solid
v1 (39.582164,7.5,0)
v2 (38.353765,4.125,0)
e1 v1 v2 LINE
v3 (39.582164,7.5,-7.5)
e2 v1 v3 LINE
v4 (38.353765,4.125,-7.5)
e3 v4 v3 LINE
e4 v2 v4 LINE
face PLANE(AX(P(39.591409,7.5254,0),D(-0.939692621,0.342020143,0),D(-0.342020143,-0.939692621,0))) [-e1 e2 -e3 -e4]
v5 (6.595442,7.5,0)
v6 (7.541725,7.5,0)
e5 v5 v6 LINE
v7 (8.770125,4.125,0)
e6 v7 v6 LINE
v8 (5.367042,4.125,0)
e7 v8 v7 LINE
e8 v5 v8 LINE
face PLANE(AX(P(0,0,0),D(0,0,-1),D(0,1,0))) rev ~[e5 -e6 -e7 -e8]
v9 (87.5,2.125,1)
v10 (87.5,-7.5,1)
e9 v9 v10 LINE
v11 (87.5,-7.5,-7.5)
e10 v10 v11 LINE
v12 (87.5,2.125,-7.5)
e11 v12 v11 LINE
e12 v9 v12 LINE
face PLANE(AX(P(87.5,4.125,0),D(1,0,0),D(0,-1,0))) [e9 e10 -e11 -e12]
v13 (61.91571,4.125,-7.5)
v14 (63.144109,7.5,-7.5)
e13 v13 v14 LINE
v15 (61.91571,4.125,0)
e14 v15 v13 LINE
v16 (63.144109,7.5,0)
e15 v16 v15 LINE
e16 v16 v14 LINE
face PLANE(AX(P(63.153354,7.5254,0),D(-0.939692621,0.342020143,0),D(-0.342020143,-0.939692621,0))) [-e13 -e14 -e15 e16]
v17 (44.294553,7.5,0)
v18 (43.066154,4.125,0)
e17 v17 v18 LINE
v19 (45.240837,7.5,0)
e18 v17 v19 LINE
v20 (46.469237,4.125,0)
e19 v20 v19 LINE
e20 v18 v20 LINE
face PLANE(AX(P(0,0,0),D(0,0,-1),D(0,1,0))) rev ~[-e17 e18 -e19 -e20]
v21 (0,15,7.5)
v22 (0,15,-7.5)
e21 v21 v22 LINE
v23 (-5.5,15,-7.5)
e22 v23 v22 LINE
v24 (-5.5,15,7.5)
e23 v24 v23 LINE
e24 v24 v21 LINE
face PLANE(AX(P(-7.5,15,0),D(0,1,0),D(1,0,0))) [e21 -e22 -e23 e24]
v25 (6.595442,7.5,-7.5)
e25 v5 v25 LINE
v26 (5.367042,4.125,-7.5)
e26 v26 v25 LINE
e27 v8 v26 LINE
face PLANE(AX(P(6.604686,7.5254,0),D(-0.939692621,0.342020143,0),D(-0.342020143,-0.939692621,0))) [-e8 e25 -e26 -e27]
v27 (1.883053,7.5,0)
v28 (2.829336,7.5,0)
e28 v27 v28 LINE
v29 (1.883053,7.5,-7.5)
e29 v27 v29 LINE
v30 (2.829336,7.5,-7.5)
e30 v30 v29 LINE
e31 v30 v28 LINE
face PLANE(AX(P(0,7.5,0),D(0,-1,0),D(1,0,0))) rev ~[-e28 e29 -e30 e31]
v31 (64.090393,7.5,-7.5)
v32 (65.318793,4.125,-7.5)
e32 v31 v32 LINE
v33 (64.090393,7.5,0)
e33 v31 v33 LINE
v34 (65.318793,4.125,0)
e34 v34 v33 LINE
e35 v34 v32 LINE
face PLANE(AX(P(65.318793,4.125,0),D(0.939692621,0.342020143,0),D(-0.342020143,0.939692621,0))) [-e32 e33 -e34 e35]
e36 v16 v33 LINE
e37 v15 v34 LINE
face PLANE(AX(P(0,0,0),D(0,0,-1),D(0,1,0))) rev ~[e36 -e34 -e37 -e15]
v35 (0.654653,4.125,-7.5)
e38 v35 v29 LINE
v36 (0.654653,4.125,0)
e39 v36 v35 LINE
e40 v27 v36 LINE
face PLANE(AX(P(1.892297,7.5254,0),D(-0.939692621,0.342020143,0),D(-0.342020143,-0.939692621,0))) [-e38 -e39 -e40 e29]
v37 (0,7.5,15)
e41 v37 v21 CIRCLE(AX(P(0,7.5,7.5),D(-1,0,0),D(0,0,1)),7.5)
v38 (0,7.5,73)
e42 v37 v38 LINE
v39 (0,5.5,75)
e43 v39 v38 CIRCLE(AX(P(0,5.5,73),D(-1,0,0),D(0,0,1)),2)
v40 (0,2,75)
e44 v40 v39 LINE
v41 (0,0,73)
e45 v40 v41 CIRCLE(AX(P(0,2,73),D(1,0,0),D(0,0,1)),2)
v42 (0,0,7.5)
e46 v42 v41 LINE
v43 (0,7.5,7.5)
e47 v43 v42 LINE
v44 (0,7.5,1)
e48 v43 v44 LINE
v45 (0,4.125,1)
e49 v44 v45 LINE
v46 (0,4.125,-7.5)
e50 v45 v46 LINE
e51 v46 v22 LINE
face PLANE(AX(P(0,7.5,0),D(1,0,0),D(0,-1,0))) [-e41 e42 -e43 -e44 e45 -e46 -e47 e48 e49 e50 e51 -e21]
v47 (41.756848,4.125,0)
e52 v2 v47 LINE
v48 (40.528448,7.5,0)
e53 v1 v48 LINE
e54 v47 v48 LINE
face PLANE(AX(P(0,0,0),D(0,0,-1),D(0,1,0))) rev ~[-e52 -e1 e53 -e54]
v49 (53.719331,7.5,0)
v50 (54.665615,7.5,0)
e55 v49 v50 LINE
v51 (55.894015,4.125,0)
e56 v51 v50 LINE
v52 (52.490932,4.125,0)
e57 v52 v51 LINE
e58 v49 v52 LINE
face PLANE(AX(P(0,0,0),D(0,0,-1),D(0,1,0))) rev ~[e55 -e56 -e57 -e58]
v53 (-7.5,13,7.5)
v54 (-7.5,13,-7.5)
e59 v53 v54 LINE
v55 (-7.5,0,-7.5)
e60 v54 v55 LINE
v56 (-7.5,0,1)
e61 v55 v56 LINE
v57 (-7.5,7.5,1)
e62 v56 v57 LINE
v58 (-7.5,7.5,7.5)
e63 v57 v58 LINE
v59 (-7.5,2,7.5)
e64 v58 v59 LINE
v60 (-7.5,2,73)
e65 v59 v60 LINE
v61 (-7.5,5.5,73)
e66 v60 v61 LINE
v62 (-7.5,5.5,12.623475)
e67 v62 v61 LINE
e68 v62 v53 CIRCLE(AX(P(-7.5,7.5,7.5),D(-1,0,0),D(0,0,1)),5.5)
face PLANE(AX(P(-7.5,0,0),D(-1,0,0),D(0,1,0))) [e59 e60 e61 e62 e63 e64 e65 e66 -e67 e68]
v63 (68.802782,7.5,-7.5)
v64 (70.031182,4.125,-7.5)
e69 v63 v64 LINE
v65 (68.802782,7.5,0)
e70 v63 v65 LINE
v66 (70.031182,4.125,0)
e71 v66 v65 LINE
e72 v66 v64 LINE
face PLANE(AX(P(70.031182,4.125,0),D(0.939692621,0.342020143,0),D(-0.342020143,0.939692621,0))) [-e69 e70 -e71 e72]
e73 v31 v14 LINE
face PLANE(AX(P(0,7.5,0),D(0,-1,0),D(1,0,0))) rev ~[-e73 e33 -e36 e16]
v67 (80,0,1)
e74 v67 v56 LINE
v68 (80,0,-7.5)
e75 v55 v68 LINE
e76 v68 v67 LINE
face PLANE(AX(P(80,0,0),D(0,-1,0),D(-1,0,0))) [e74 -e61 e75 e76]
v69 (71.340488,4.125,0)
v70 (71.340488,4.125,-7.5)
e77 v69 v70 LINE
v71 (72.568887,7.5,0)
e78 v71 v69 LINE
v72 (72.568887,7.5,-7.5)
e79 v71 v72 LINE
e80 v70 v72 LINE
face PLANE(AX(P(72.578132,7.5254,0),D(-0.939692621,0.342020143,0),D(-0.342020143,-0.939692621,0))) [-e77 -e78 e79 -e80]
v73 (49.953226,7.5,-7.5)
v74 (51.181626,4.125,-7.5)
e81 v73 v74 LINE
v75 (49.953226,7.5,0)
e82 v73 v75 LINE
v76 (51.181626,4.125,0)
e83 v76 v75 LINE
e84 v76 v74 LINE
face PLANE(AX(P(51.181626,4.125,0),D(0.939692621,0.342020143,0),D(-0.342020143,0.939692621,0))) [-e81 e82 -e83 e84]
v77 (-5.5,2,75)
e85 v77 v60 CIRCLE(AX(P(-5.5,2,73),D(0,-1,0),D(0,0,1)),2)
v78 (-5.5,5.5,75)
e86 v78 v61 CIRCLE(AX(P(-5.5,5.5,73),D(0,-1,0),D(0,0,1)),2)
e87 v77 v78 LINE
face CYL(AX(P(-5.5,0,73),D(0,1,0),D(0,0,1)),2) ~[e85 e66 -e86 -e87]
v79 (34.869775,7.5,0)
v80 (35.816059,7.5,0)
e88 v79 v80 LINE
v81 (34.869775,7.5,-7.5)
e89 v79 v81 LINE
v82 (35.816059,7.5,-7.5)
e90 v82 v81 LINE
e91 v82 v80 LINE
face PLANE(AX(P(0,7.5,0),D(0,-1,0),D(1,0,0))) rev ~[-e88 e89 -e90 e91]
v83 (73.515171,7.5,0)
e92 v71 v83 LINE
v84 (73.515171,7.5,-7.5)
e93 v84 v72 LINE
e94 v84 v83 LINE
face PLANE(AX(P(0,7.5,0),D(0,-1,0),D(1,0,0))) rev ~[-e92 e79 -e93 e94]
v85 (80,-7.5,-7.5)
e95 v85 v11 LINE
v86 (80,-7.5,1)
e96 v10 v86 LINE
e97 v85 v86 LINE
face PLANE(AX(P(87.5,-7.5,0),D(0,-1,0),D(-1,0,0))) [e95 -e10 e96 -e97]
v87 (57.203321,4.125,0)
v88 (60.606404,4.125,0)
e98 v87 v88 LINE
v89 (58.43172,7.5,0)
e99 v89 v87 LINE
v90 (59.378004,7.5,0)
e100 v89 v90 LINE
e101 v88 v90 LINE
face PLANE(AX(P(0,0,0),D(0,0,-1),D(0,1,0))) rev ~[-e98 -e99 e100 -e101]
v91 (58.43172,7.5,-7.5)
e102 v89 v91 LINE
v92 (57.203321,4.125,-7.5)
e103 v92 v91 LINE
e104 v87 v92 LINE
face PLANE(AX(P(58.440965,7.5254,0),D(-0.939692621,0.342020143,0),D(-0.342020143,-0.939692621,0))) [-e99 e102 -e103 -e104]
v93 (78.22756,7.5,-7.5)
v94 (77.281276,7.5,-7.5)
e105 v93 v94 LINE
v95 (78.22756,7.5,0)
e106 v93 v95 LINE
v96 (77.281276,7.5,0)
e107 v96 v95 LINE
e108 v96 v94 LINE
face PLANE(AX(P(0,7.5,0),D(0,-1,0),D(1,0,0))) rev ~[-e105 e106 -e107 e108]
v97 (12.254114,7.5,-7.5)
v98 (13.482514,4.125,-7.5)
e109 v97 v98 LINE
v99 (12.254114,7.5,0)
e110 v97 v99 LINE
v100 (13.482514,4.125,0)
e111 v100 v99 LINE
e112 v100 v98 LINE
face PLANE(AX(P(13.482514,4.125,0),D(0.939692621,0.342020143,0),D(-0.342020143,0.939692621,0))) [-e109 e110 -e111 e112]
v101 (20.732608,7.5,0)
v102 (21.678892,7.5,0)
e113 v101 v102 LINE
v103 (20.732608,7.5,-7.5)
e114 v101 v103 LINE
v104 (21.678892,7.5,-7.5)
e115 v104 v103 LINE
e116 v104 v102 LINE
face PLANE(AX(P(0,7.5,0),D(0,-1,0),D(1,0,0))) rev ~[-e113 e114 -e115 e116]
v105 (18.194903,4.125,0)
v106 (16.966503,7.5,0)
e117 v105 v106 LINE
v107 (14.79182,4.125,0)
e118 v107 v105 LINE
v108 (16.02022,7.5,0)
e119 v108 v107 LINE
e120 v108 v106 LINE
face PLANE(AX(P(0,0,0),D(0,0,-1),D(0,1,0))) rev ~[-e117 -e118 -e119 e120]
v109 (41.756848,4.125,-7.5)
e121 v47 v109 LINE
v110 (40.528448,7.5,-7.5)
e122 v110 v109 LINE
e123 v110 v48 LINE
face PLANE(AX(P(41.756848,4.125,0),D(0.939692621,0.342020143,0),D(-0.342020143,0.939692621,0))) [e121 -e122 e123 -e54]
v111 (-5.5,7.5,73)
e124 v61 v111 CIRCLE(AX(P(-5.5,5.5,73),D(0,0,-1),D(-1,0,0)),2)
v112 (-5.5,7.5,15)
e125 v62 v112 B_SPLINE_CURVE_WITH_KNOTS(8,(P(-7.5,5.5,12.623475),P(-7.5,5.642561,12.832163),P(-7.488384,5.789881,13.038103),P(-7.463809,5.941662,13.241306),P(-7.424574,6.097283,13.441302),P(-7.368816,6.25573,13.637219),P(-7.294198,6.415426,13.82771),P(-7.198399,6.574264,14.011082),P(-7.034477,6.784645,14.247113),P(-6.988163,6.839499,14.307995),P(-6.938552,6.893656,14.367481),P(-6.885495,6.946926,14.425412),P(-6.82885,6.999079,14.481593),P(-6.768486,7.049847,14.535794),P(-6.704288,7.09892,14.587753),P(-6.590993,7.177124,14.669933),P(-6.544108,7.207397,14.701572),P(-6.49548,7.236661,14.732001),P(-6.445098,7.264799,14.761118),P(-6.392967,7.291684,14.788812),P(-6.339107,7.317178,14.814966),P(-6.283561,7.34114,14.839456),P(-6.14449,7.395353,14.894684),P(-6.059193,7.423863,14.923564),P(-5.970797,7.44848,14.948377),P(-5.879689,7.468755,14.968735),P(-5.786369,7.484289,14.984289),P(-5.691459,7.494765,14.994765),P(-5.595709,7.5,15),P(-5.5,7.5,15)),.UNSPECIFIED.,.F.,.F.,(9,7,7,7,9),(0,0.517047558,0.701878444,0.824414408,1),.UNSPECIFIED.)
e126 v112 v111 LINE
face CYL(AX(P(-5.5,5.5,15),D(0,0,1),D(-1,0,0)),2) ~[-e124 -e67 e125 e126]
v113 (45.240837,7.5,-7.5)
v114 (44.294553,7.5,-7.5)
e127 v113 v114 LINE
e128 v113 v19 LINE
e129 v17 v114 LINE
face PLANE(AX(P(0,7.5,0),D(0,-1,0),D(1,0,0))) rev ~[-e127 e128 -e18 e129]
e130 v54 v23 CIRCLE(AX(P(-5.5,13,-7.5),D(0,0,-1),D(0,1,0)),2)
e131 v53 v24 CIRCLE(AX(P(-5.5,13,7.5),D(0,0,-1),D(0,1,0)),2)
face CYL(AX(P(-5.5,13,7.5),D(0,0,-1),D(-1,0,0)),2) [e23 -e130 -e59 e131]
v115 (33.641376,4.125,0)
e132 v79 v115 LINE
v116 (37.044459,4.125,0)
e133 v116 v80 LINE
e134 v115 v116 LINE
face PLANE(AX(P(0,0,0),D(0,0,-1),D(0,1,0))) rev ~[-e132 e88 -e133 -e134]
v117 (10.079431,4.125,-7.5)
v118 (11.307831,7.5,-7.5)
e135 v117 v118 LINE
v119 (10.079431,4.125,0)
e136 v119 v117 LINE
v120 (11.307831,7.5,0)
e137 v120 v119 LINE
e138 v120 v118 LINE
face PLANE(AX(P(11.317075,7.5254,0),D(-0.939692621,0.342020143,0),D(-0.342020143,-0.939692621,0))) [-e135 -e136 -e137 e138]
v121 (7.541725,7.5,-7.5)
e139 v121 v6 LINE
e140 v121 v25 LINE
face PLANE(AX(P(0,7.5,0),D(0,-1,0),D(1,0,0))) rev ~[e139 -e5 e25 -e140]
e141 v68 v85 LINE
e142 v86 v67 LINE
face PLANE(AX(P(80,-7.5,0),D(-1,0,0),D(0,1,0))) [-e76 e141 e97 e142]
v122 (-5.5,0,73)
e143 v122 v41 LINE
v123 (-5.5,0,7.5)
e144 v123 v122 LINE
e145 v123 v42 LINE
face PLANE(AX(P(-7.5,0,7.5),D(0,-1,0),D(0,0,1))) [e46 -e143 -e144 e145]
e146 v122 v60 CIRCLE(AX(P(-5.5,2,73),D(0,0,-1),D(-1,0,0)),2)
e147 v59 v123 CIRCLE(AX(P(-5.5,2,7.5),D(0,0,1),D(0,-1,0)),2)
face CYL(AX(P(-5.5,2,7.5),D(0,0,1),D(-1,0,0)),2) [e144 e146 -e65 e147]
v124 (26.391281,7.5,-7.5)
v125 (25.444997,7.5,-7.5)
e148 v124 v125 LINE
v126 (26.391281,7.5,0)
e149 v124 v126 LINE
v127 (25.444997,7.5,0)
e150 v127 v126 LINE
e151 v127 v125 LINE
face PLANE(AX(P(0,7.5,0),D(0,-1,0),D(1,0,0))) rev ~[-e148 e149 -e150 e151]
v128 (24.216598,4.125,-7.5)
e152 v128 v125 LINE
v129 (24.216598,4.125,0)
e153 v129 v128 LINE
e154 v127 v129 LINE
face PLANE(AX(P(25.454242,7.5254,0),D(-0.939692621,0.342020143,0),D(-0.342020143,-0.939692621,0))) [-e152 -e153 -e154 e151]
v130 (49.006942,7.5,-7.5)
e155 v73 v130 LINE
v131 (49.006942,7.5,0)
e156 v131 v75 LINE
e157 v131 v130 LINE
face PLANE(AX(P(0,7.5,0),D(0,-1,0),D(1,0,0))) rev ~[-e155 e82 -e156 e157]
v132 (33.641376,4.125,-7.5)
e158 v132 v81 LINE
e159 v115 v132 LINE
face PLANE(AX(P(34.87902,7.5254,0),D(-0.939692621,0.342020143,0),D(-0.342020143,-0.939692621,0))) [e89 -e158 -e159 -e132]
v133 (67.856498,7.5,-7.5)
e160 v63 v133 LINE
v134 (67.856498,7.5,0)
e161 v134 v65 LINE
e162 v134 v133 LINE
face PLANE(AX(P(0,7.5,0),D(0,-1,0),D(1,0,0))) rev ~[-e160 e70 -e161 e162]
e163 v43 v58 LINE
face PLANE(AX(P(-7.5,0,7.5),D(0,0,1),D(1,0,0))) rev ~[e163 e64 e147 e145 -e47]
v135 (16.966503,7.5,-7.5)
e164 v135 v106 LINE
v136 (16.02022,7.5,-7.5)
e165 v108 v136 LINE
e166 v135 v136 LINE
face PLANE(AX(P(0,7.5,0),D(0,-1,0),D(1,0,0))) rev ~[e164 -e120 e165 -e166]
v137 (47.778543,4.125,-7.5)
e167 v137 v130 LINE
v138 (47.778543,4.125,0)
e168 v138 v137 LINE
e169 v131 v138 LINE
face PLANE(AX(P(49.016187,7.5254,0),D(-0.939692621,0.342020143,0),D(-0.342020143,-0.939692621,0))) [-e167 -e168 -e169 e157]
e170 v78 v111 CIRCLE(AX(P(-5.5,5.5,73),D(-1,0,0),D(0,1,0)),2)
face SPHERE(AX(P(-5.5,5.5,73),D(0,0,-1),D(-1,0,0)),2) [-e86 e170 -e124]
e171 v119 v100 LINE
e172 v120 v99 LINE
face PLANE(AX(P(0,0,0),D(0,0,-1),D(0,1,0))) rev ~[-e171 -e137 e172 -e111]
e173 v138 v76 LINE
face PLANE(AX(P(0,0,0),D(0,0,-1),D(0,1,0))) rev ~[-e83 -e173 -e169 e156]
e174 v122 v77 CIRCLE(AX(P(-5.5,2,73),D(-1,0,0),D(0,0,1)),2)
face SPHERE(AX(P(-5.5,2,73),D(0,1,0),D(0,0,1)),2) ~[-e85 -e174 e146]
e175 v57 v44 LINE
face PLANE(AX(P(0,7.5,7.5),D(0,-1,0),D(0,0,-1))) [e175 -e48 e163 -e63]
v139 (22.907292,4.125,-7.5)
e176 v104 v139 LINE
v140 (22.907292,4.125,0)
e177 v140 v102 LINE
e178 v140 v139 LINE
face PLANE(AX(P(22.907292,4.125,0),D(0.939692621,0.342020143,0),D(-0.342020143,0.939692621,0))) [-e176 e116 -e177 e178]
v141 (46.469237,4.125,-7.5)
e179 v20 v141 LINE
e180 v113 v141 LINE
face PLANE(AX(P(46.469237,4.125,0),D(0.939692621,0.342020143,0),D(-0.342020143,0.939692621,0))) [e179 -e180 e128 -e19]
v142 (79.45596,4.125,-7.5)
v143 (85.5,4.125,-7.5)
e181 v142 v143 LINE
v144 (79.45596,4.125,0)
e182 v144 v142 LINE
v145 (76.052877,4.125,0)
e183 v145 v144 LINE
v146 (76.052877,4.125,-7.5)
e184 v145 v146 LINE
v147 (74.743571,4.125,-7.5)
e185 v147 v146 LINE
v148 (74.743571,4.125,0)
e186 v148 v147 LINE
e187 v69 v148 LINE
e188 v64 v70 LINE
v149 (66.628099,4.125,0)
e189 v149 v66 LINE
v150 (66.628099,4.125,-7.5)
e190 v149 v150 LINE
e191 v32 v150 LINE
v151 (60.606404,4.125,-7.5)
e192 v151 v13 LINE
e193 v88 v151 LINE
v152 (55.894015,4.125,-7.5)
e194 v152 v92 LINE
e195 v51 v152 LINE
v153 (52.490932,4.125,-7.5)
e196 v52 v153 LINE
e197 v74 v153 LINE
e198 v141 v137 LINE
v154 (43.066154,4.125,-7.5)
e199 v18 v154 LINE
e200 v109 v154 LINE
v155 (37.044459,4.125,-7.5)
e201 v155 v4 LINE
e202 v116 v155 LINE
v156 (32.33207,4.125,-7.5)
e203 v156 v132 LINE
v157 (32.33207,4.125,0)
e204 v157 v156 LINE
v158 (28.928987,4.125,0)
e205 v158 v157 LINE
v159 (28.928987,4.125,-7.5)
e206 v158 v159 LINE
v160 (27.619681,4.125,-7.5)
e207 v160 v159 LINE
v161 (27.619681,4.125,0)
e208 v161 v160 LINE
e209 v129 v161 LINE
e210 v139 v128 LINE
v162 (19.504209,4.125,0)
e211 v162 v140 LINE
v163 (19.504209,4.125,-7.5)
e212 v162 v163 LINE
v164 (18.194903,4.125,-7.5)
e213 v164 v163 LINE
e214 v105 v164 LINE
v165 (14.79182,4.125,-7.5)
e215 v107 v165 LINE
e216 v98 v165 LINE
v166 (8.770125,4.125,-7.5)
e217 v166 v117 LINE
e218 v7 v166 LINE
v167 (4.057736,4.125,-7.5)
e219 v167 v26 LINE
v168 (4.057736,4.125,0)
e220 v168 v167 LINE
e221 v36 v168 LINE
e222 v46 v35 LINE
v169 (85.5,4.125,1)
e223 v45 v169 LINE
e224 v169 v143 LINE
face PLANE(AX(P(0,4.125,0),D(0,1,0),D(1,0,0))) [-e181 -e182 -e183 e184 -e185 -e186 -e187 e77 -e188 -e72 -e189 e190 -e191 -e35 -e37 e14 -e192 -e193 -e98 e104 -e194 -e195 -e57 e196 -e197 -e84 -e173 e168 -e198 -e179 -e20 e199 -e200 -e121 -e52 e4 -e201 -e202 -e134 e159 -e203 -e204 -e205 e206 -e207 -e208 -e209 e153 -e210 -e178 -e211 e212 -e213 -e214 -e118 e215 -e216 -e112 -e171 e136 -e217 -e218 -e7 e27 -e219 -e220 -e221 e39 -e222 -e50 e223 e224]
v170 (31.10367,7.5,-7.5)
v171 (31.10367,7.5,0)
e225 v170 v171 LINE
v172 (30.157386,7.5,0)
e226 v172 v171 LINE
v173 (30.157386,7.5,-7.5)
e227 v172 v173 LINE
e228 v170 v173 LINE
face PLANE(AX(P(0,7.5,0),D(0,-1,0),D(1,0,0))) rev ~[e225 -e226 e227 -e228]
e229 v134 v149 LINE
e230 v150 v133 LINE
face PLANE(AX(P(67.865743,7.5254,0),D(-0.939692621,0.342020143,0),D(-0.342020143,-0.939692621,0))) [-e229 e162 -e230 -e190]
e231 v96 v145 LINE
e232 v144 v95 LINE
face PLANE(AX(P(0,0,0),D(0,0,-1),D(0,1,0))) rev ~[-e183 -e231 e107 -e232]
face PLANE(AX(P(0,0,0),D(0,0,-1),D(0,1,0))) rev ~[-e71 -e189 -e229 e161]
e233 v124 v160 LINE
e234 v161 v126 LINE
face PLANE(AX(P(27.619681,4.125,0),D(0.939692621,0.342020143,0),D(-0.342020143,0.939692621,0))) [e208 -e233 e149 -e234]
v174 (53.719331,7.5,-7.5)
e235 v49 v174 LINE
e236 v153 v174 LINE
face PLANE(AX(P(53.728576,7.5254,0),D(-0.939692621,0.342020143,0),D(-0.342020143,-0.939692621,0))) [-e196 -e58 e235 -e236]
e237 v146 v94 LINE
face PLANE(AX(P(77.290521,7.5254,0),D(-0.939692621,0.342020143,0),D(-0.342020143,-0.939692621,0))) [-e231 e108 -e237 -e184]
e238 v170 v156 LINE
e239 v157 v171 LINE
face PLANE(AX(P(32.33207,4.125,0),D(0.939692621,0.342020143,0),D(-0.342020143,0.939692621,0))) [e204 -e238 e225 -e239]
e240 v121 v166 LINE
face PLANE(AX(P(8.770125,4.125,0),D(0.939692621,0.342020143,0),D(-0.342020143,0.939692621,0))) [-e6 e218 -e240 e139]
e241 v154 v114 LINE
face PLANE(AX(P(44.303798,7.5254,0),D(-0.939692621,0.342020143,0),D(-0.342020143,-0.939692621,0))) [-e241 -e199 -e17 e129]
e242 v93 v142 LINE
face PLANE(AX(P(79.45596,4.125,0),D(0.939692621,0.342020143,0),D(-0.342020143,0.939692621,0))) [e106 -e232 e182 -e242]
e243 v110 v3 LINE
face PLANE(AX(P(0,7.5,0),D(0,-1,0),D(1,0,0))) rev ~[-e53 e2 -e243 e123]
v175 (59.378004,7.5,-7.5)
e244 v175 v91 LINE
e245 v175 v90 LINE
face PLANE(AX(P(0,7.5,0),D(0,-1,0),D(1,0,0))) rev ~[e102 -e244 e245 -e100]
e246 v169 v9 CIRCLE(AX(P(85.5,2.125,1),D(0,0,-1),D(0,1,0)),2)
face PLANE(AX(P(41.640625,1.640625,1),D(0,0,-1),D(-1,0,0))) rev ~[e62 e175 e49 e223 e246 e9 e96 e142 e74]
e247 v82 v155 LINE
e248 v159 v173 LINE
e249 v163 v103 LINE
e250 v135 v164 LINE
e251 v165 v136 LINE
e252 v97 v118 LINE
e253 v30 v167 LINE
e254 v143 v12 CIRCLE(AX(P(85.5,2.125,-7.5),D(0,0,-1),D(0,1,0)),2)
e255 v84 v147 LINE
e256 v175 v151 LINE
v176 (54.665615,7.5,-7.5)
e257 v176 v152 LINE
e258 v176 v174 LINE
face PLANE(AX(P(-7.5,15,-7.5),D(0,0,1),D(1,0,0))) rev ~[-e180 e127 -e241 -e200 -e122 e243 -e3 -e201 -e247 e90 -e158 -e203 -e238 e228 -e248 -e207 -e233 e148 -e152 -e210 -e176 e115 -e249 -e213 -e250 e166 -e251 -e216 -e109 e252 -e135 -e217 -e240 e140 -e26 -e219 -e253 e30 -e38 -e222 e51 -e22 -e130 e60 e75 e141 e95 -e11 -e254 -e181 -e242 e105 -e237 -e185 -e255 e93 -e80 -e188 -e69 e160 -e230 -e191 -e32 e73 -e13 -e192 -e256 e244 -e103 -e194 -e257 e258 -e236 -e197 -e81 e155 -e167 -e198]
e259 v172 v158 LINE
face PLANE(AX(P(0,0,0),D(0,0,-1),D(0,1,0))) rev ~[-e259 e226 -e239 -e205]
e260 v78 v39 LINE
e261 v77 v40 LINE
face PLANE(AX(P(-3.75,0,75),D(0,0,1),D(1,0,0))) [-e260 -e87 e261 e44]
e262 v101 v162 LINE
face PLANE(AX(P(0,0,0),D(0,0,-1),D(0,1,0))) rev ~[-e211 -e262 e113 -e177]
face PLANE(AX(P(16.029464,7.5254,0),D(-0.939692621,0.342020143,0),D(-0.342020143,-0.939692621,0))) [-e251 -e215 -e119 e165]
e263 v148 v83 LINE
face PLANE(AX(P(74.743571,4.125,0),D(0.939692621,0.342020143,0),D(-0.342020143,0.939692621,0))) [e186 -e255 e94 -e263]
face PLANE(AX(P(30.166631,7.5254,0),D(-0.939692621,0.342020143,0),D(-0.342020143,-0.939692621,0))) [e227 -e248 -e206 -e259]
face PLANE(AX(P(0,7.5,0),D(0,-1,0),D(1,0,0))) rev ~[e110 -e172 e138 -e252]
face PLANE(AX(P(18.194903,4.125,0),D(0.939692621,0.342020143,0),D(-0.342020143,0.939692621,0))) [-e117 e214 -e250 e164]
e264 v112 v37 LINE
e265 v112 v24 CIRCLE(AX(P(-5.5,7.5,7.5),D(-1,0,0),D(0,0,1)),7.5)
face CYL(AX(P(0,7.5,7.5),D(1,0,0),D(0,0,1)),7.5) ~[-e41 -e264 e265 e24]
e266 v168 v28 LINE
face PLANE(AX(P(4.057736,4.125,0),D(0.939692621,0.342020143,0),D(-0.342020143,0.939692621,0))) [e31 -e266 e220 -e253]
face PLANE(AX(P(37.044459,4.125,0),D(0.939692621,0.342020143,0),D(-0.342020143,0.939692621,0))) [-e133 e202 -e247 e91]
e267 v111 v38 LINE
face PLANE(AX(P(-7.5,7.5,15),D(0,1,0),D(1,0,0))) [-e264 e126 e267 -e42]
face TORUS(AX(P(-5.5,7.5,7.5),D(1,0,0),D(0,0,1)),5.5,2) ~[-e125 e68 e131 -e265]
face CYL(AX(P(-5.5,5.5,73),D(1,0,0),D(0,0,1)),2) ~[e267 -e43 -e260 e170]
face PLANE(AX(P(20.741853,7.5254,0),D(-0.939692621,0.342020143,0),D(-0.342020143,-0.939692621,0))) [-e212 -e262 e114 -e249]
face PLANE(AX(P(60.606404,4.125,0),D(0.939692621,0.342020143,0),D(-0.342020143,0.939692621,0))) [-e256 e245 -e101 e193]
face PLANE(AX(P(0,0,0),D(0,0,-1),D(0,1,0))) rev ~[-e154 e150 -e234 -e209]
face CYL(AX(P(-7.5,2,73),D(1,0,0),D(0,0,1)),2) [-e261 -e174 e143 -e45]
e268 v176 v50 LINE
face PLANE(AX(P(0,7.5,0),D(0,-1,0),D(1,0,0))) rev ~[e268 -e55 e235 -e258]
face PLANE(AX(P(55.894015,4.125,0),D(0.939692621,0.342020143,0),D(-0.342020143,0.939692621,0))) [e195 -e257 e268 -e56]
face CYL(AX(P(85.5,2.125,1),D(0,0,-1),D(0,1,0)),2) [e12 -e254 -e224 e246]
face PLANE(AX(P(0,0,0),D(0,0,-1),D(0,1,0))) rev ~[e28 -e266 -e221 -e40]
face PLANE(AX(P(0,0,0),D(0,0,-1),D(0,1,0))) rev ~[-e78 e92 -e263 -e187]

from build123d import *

# Parameters (mm, degrees)
BLANKSKE_W              = 80
BLANKSKE_H              = 7.5
BLANK_DEPTH             = 20
TOOTHCUTSIM_DEPTH       = 83.802475808
TEETHCUTS_COUNT         = 18
TEETHCUTS_PITCH         = 4.712388975
SKETCH1_W               = 20
SKETCH1_H               = 11.625
BOSS_EXTRUDE2_DEPTH     = 7.5
SKETCH3_W               = 20
SKETCH3_H               = 15
BOSS_EXTRUDE3_DEPTH     = 7.5
SKETCH4_W               = 7.5
SKETCH4_H               = 15
BOSS_EXTRUDE4_DEPTH     = 15
SKETCH8_W               = 7.5
SKETCH8_H               = 7.5
CUT_EXTRUDE1_DEPTH      = 15
CUT_EXTRUDE2_DEPTH      = 15
SKETCH10_W              = 7.5
SKETCH10_H              = 7.5
BOSS_EXTRUDE5_DEPTH     = 7.5
SKETCH11_W              = 7.5
SKETCH11_H              = 15
BOSS_EXTRUDE7_DEPTH     = 60
CUT_EXTRUDE4_DEPTH      = 116.829144109
CUT_EXTRUDE4_DEPTH_BACK = 116.829144109
SKETCH12_W              = 95
SKETCH12_H              = 10
SKETCH14_W              = 95
SKETCH14_H              = 2.5
CUT_EXTRUDE5_DEPTH      = 100
SKETCH15_W              = 67.5
SKETCH15_H              = 7.5
CUT_EXTRUDE6_DEPTH      = 122.963109177
BOSS_EXTRUDE8_START     = -7.5
BOSS_EXTRUDE8_DEPTH     = 7.5
BOSS_EXTRUDE9_DEPTH     = 1
FILLET1_R               = 2
FILLET2_R               = 2
FILLET3_R               = 2


with BuildPart() as part:
    # BlankSke → Blank (new body)
    with BuildSketch(Plane.XY):
        with Locations((40, 3.75)):
            Rectangle(BLANKSKE_W, BLANKSKE_H)
    extrude(amount=-BLANK_DEPTH)

    # TooCutSkeSim → ToothCutSim (cut, through all)
    with BuildSketch(Plane.XY):
        Polygon((0.654653055, 4.125), (-0.654653055, 4.125), (-1.892297439, 7.5254), (1.892297439, 7.5254), align=None)
    toothcutsim = extrude(amount=-TOOTHCUTSIM_DEPTH, mode=Mode.SUBTRACT)

    # TeethCuts: ToothCutSim ×18
    with Locations(*[(i * TEETHCUTS_PITCH, 0, 0) for i in range(1, TEETHCUTS_COUNT)]):
        add(toothcutsim, mode=Mode.SUBTRACT)

    # Sketch1 → Boss-Extrude2 (add)
    with BuildSketch(Plane(origin=(80, 0, 0), x_dir=(0, 0, -1), z_dir=(1, 0, 0))):
        with Locations((10, -1.6875)):
            Rectangle(SKETCH1_W, SKETCH1_H)
    extrude(amount=BOSS_EXTRUDE2_DEPTH)

    # Sketch3 → Boss-Extrude3 (add)
    with BuildSketch(Plane.ZY):
        with Locations((-10, 7.5)):
            Rectangle(SKETCH3_W, SKETCH3_H)
    extrude(amount=BOSS_EXTRUDE3_DEPTH)

    # Sketch4 → Boss-Extrude4 (add)
    with BuildSketch(Plane.XY):
        with Locations((-3.75, 7.5)):
            Rectangle(SKETCH4_W, SKETCH4_H)
    extrude(amount=BOSS_EXTRUDE4_DEPTH)

    # Sketch8 → Cut-Extrude1 (cut)
    with BuildSketch(Plane(origin=(0, 0, 0), x_dir=(0, 0, -1), z_dir=(1, 0, 0))):
        with Locations((-3.75, 3.75)):
            Rectangle(SKETCH8_W, SKETCH8_H)
    extrude(amount=-CUT_EXTRUDE1_DEPTH, mode=Mode.SUBTRACT)

    # Sketch9 → Cut-Extrude2 (cut)
    with BuildSketch(Plane.ZY.offset(7.5)):
        Polygon((7.5, 15), (15, 7.5), (15, 15), align=None)
    extrude(amount=-CUT_EXTRUDE2_DEPTH, mode=Mode.SUBTRACT)

    # Sketch10 → Boss-Extrude5 (add)
    with BuildSketch(Plane.XZ):
        with Locations((-3.75, 11.25)):
            Rectangle(SKETCH10_W, SKETCH10_H)
    extrude(amount=BOSS_EXTRUDE5_DEPTH)

    # Sketch11 → Boss-Extrude7 (add)
    with BuildSketch(Plane.XY.offset(15)):
        with Locations((-3.75, 0)):
            Rectangle(SKETCH11_W, SKETCH11_H)
    extrude(amount=BOSS_EXTRUDE7_DEPTH)

    # Sketch12 → Cut-Extrude4 (cut, two sides: drawn at the far end of the back side and taken through both)
    with BuildSketch(Plane(origin=(0, 4.125, 0), x_dir=(1, 0, 0), z_dir=(0, 1, 0)).offset(-CUT_EXTRUDE4_DEPTH_BACK)):
        with Locations((40, 15)):
            Rectangle(SKETCH12_W, SKETCH12_H)
    extrude(amount=CUT_EXTRUDE4_DEPTH + CUT_EXTRUDE4_DEPTH_BACK, mode=Mode.SUBTRACT)

    # Sketch14 → Cut-Extrude5 (cut)
    with BuildSketch(Plane(origin=(0, 15, 0), x_dir=(1, 0, 0), z_dir=(0, 1, 0))):
        with Locations((40, 8.75)):
            Rectangle(SKETCH14_W, SKETCH14_H)
    extrude(amount=-CUT_EXTRUDE5_DEPTH, mode=Mode.SUBTRACT)

    # Sketch15 → Cut-Extrude6 (cut, through all)
    with BuildSketch(Plane.ZY.offset(7.5)):
        with Locations((41.25, -3.75)):
            Rectangle(SKETCH15_W, SKETCH15_H)
    extrude(amount=-CUT_EXTRUDE6_DEPTH, mode=Mode.SUBTRACT)

    # Sketch16 → Boss-Extrude8 (add)
    with BuildSketch(Plane.ZY.offset(7.5).offset(BOSS_EXTRUDE8_START)):
        with BuildLine():
            ThreePointArc((15, 7.5), (12.803300859, 12.803300859), (7.5, 15))
            Line((7.5, 15), (15, 7.5))
        make_face()
    extrude(amount=BOSS_EXTRUDE8_DEPTH)

    # Sketch19 → Boss-Extrude9 (add)
    with BuildSketch(Plane.XY):
        Polygon((-7.5, 0), (-7.5, 7.5), (0, 7.5), (0, 4.125), (87.5, 4.125), (87.5, -7.5), (80, -7.5), (80, 0), align=None)
    extrude(amount=BOSS_EXTRUDE9_DEPTH)

    # Fillet1
    fillet1_edges = [part.edges().sort_by_distance(p)[0] for p in [
        (-7.5, 15, 0),
        (-7.5, 7.5, 45),
        (-7.5, 12.803300859, 12.803300859),
    ]]
    fillet(fillet1_edges, radius=FILLET1_R)

    # Fillet2
    fillet2_edges = [part.edges().sort_by_distance(p)[0] for p in [
        (-2.75, 7.5, 75),
        (-3.75, 0, 75),
        (-7.5, 0, 41.25),
        (-7.5, 2.75, 75),
        (-6.914213562, 6.914213562, 75),
    ]]
    fillet(fillet2_edges, radius=FILLET2_R)

    # Fillet3
    fillet3_edges = [part.edges().sort_by_distance(p)[0] for p in [
        (87.5, 4.125, -3.25),
    ]]
    fillet(fillet3_edges, radius=FILLET3_R)


solid = part.part
